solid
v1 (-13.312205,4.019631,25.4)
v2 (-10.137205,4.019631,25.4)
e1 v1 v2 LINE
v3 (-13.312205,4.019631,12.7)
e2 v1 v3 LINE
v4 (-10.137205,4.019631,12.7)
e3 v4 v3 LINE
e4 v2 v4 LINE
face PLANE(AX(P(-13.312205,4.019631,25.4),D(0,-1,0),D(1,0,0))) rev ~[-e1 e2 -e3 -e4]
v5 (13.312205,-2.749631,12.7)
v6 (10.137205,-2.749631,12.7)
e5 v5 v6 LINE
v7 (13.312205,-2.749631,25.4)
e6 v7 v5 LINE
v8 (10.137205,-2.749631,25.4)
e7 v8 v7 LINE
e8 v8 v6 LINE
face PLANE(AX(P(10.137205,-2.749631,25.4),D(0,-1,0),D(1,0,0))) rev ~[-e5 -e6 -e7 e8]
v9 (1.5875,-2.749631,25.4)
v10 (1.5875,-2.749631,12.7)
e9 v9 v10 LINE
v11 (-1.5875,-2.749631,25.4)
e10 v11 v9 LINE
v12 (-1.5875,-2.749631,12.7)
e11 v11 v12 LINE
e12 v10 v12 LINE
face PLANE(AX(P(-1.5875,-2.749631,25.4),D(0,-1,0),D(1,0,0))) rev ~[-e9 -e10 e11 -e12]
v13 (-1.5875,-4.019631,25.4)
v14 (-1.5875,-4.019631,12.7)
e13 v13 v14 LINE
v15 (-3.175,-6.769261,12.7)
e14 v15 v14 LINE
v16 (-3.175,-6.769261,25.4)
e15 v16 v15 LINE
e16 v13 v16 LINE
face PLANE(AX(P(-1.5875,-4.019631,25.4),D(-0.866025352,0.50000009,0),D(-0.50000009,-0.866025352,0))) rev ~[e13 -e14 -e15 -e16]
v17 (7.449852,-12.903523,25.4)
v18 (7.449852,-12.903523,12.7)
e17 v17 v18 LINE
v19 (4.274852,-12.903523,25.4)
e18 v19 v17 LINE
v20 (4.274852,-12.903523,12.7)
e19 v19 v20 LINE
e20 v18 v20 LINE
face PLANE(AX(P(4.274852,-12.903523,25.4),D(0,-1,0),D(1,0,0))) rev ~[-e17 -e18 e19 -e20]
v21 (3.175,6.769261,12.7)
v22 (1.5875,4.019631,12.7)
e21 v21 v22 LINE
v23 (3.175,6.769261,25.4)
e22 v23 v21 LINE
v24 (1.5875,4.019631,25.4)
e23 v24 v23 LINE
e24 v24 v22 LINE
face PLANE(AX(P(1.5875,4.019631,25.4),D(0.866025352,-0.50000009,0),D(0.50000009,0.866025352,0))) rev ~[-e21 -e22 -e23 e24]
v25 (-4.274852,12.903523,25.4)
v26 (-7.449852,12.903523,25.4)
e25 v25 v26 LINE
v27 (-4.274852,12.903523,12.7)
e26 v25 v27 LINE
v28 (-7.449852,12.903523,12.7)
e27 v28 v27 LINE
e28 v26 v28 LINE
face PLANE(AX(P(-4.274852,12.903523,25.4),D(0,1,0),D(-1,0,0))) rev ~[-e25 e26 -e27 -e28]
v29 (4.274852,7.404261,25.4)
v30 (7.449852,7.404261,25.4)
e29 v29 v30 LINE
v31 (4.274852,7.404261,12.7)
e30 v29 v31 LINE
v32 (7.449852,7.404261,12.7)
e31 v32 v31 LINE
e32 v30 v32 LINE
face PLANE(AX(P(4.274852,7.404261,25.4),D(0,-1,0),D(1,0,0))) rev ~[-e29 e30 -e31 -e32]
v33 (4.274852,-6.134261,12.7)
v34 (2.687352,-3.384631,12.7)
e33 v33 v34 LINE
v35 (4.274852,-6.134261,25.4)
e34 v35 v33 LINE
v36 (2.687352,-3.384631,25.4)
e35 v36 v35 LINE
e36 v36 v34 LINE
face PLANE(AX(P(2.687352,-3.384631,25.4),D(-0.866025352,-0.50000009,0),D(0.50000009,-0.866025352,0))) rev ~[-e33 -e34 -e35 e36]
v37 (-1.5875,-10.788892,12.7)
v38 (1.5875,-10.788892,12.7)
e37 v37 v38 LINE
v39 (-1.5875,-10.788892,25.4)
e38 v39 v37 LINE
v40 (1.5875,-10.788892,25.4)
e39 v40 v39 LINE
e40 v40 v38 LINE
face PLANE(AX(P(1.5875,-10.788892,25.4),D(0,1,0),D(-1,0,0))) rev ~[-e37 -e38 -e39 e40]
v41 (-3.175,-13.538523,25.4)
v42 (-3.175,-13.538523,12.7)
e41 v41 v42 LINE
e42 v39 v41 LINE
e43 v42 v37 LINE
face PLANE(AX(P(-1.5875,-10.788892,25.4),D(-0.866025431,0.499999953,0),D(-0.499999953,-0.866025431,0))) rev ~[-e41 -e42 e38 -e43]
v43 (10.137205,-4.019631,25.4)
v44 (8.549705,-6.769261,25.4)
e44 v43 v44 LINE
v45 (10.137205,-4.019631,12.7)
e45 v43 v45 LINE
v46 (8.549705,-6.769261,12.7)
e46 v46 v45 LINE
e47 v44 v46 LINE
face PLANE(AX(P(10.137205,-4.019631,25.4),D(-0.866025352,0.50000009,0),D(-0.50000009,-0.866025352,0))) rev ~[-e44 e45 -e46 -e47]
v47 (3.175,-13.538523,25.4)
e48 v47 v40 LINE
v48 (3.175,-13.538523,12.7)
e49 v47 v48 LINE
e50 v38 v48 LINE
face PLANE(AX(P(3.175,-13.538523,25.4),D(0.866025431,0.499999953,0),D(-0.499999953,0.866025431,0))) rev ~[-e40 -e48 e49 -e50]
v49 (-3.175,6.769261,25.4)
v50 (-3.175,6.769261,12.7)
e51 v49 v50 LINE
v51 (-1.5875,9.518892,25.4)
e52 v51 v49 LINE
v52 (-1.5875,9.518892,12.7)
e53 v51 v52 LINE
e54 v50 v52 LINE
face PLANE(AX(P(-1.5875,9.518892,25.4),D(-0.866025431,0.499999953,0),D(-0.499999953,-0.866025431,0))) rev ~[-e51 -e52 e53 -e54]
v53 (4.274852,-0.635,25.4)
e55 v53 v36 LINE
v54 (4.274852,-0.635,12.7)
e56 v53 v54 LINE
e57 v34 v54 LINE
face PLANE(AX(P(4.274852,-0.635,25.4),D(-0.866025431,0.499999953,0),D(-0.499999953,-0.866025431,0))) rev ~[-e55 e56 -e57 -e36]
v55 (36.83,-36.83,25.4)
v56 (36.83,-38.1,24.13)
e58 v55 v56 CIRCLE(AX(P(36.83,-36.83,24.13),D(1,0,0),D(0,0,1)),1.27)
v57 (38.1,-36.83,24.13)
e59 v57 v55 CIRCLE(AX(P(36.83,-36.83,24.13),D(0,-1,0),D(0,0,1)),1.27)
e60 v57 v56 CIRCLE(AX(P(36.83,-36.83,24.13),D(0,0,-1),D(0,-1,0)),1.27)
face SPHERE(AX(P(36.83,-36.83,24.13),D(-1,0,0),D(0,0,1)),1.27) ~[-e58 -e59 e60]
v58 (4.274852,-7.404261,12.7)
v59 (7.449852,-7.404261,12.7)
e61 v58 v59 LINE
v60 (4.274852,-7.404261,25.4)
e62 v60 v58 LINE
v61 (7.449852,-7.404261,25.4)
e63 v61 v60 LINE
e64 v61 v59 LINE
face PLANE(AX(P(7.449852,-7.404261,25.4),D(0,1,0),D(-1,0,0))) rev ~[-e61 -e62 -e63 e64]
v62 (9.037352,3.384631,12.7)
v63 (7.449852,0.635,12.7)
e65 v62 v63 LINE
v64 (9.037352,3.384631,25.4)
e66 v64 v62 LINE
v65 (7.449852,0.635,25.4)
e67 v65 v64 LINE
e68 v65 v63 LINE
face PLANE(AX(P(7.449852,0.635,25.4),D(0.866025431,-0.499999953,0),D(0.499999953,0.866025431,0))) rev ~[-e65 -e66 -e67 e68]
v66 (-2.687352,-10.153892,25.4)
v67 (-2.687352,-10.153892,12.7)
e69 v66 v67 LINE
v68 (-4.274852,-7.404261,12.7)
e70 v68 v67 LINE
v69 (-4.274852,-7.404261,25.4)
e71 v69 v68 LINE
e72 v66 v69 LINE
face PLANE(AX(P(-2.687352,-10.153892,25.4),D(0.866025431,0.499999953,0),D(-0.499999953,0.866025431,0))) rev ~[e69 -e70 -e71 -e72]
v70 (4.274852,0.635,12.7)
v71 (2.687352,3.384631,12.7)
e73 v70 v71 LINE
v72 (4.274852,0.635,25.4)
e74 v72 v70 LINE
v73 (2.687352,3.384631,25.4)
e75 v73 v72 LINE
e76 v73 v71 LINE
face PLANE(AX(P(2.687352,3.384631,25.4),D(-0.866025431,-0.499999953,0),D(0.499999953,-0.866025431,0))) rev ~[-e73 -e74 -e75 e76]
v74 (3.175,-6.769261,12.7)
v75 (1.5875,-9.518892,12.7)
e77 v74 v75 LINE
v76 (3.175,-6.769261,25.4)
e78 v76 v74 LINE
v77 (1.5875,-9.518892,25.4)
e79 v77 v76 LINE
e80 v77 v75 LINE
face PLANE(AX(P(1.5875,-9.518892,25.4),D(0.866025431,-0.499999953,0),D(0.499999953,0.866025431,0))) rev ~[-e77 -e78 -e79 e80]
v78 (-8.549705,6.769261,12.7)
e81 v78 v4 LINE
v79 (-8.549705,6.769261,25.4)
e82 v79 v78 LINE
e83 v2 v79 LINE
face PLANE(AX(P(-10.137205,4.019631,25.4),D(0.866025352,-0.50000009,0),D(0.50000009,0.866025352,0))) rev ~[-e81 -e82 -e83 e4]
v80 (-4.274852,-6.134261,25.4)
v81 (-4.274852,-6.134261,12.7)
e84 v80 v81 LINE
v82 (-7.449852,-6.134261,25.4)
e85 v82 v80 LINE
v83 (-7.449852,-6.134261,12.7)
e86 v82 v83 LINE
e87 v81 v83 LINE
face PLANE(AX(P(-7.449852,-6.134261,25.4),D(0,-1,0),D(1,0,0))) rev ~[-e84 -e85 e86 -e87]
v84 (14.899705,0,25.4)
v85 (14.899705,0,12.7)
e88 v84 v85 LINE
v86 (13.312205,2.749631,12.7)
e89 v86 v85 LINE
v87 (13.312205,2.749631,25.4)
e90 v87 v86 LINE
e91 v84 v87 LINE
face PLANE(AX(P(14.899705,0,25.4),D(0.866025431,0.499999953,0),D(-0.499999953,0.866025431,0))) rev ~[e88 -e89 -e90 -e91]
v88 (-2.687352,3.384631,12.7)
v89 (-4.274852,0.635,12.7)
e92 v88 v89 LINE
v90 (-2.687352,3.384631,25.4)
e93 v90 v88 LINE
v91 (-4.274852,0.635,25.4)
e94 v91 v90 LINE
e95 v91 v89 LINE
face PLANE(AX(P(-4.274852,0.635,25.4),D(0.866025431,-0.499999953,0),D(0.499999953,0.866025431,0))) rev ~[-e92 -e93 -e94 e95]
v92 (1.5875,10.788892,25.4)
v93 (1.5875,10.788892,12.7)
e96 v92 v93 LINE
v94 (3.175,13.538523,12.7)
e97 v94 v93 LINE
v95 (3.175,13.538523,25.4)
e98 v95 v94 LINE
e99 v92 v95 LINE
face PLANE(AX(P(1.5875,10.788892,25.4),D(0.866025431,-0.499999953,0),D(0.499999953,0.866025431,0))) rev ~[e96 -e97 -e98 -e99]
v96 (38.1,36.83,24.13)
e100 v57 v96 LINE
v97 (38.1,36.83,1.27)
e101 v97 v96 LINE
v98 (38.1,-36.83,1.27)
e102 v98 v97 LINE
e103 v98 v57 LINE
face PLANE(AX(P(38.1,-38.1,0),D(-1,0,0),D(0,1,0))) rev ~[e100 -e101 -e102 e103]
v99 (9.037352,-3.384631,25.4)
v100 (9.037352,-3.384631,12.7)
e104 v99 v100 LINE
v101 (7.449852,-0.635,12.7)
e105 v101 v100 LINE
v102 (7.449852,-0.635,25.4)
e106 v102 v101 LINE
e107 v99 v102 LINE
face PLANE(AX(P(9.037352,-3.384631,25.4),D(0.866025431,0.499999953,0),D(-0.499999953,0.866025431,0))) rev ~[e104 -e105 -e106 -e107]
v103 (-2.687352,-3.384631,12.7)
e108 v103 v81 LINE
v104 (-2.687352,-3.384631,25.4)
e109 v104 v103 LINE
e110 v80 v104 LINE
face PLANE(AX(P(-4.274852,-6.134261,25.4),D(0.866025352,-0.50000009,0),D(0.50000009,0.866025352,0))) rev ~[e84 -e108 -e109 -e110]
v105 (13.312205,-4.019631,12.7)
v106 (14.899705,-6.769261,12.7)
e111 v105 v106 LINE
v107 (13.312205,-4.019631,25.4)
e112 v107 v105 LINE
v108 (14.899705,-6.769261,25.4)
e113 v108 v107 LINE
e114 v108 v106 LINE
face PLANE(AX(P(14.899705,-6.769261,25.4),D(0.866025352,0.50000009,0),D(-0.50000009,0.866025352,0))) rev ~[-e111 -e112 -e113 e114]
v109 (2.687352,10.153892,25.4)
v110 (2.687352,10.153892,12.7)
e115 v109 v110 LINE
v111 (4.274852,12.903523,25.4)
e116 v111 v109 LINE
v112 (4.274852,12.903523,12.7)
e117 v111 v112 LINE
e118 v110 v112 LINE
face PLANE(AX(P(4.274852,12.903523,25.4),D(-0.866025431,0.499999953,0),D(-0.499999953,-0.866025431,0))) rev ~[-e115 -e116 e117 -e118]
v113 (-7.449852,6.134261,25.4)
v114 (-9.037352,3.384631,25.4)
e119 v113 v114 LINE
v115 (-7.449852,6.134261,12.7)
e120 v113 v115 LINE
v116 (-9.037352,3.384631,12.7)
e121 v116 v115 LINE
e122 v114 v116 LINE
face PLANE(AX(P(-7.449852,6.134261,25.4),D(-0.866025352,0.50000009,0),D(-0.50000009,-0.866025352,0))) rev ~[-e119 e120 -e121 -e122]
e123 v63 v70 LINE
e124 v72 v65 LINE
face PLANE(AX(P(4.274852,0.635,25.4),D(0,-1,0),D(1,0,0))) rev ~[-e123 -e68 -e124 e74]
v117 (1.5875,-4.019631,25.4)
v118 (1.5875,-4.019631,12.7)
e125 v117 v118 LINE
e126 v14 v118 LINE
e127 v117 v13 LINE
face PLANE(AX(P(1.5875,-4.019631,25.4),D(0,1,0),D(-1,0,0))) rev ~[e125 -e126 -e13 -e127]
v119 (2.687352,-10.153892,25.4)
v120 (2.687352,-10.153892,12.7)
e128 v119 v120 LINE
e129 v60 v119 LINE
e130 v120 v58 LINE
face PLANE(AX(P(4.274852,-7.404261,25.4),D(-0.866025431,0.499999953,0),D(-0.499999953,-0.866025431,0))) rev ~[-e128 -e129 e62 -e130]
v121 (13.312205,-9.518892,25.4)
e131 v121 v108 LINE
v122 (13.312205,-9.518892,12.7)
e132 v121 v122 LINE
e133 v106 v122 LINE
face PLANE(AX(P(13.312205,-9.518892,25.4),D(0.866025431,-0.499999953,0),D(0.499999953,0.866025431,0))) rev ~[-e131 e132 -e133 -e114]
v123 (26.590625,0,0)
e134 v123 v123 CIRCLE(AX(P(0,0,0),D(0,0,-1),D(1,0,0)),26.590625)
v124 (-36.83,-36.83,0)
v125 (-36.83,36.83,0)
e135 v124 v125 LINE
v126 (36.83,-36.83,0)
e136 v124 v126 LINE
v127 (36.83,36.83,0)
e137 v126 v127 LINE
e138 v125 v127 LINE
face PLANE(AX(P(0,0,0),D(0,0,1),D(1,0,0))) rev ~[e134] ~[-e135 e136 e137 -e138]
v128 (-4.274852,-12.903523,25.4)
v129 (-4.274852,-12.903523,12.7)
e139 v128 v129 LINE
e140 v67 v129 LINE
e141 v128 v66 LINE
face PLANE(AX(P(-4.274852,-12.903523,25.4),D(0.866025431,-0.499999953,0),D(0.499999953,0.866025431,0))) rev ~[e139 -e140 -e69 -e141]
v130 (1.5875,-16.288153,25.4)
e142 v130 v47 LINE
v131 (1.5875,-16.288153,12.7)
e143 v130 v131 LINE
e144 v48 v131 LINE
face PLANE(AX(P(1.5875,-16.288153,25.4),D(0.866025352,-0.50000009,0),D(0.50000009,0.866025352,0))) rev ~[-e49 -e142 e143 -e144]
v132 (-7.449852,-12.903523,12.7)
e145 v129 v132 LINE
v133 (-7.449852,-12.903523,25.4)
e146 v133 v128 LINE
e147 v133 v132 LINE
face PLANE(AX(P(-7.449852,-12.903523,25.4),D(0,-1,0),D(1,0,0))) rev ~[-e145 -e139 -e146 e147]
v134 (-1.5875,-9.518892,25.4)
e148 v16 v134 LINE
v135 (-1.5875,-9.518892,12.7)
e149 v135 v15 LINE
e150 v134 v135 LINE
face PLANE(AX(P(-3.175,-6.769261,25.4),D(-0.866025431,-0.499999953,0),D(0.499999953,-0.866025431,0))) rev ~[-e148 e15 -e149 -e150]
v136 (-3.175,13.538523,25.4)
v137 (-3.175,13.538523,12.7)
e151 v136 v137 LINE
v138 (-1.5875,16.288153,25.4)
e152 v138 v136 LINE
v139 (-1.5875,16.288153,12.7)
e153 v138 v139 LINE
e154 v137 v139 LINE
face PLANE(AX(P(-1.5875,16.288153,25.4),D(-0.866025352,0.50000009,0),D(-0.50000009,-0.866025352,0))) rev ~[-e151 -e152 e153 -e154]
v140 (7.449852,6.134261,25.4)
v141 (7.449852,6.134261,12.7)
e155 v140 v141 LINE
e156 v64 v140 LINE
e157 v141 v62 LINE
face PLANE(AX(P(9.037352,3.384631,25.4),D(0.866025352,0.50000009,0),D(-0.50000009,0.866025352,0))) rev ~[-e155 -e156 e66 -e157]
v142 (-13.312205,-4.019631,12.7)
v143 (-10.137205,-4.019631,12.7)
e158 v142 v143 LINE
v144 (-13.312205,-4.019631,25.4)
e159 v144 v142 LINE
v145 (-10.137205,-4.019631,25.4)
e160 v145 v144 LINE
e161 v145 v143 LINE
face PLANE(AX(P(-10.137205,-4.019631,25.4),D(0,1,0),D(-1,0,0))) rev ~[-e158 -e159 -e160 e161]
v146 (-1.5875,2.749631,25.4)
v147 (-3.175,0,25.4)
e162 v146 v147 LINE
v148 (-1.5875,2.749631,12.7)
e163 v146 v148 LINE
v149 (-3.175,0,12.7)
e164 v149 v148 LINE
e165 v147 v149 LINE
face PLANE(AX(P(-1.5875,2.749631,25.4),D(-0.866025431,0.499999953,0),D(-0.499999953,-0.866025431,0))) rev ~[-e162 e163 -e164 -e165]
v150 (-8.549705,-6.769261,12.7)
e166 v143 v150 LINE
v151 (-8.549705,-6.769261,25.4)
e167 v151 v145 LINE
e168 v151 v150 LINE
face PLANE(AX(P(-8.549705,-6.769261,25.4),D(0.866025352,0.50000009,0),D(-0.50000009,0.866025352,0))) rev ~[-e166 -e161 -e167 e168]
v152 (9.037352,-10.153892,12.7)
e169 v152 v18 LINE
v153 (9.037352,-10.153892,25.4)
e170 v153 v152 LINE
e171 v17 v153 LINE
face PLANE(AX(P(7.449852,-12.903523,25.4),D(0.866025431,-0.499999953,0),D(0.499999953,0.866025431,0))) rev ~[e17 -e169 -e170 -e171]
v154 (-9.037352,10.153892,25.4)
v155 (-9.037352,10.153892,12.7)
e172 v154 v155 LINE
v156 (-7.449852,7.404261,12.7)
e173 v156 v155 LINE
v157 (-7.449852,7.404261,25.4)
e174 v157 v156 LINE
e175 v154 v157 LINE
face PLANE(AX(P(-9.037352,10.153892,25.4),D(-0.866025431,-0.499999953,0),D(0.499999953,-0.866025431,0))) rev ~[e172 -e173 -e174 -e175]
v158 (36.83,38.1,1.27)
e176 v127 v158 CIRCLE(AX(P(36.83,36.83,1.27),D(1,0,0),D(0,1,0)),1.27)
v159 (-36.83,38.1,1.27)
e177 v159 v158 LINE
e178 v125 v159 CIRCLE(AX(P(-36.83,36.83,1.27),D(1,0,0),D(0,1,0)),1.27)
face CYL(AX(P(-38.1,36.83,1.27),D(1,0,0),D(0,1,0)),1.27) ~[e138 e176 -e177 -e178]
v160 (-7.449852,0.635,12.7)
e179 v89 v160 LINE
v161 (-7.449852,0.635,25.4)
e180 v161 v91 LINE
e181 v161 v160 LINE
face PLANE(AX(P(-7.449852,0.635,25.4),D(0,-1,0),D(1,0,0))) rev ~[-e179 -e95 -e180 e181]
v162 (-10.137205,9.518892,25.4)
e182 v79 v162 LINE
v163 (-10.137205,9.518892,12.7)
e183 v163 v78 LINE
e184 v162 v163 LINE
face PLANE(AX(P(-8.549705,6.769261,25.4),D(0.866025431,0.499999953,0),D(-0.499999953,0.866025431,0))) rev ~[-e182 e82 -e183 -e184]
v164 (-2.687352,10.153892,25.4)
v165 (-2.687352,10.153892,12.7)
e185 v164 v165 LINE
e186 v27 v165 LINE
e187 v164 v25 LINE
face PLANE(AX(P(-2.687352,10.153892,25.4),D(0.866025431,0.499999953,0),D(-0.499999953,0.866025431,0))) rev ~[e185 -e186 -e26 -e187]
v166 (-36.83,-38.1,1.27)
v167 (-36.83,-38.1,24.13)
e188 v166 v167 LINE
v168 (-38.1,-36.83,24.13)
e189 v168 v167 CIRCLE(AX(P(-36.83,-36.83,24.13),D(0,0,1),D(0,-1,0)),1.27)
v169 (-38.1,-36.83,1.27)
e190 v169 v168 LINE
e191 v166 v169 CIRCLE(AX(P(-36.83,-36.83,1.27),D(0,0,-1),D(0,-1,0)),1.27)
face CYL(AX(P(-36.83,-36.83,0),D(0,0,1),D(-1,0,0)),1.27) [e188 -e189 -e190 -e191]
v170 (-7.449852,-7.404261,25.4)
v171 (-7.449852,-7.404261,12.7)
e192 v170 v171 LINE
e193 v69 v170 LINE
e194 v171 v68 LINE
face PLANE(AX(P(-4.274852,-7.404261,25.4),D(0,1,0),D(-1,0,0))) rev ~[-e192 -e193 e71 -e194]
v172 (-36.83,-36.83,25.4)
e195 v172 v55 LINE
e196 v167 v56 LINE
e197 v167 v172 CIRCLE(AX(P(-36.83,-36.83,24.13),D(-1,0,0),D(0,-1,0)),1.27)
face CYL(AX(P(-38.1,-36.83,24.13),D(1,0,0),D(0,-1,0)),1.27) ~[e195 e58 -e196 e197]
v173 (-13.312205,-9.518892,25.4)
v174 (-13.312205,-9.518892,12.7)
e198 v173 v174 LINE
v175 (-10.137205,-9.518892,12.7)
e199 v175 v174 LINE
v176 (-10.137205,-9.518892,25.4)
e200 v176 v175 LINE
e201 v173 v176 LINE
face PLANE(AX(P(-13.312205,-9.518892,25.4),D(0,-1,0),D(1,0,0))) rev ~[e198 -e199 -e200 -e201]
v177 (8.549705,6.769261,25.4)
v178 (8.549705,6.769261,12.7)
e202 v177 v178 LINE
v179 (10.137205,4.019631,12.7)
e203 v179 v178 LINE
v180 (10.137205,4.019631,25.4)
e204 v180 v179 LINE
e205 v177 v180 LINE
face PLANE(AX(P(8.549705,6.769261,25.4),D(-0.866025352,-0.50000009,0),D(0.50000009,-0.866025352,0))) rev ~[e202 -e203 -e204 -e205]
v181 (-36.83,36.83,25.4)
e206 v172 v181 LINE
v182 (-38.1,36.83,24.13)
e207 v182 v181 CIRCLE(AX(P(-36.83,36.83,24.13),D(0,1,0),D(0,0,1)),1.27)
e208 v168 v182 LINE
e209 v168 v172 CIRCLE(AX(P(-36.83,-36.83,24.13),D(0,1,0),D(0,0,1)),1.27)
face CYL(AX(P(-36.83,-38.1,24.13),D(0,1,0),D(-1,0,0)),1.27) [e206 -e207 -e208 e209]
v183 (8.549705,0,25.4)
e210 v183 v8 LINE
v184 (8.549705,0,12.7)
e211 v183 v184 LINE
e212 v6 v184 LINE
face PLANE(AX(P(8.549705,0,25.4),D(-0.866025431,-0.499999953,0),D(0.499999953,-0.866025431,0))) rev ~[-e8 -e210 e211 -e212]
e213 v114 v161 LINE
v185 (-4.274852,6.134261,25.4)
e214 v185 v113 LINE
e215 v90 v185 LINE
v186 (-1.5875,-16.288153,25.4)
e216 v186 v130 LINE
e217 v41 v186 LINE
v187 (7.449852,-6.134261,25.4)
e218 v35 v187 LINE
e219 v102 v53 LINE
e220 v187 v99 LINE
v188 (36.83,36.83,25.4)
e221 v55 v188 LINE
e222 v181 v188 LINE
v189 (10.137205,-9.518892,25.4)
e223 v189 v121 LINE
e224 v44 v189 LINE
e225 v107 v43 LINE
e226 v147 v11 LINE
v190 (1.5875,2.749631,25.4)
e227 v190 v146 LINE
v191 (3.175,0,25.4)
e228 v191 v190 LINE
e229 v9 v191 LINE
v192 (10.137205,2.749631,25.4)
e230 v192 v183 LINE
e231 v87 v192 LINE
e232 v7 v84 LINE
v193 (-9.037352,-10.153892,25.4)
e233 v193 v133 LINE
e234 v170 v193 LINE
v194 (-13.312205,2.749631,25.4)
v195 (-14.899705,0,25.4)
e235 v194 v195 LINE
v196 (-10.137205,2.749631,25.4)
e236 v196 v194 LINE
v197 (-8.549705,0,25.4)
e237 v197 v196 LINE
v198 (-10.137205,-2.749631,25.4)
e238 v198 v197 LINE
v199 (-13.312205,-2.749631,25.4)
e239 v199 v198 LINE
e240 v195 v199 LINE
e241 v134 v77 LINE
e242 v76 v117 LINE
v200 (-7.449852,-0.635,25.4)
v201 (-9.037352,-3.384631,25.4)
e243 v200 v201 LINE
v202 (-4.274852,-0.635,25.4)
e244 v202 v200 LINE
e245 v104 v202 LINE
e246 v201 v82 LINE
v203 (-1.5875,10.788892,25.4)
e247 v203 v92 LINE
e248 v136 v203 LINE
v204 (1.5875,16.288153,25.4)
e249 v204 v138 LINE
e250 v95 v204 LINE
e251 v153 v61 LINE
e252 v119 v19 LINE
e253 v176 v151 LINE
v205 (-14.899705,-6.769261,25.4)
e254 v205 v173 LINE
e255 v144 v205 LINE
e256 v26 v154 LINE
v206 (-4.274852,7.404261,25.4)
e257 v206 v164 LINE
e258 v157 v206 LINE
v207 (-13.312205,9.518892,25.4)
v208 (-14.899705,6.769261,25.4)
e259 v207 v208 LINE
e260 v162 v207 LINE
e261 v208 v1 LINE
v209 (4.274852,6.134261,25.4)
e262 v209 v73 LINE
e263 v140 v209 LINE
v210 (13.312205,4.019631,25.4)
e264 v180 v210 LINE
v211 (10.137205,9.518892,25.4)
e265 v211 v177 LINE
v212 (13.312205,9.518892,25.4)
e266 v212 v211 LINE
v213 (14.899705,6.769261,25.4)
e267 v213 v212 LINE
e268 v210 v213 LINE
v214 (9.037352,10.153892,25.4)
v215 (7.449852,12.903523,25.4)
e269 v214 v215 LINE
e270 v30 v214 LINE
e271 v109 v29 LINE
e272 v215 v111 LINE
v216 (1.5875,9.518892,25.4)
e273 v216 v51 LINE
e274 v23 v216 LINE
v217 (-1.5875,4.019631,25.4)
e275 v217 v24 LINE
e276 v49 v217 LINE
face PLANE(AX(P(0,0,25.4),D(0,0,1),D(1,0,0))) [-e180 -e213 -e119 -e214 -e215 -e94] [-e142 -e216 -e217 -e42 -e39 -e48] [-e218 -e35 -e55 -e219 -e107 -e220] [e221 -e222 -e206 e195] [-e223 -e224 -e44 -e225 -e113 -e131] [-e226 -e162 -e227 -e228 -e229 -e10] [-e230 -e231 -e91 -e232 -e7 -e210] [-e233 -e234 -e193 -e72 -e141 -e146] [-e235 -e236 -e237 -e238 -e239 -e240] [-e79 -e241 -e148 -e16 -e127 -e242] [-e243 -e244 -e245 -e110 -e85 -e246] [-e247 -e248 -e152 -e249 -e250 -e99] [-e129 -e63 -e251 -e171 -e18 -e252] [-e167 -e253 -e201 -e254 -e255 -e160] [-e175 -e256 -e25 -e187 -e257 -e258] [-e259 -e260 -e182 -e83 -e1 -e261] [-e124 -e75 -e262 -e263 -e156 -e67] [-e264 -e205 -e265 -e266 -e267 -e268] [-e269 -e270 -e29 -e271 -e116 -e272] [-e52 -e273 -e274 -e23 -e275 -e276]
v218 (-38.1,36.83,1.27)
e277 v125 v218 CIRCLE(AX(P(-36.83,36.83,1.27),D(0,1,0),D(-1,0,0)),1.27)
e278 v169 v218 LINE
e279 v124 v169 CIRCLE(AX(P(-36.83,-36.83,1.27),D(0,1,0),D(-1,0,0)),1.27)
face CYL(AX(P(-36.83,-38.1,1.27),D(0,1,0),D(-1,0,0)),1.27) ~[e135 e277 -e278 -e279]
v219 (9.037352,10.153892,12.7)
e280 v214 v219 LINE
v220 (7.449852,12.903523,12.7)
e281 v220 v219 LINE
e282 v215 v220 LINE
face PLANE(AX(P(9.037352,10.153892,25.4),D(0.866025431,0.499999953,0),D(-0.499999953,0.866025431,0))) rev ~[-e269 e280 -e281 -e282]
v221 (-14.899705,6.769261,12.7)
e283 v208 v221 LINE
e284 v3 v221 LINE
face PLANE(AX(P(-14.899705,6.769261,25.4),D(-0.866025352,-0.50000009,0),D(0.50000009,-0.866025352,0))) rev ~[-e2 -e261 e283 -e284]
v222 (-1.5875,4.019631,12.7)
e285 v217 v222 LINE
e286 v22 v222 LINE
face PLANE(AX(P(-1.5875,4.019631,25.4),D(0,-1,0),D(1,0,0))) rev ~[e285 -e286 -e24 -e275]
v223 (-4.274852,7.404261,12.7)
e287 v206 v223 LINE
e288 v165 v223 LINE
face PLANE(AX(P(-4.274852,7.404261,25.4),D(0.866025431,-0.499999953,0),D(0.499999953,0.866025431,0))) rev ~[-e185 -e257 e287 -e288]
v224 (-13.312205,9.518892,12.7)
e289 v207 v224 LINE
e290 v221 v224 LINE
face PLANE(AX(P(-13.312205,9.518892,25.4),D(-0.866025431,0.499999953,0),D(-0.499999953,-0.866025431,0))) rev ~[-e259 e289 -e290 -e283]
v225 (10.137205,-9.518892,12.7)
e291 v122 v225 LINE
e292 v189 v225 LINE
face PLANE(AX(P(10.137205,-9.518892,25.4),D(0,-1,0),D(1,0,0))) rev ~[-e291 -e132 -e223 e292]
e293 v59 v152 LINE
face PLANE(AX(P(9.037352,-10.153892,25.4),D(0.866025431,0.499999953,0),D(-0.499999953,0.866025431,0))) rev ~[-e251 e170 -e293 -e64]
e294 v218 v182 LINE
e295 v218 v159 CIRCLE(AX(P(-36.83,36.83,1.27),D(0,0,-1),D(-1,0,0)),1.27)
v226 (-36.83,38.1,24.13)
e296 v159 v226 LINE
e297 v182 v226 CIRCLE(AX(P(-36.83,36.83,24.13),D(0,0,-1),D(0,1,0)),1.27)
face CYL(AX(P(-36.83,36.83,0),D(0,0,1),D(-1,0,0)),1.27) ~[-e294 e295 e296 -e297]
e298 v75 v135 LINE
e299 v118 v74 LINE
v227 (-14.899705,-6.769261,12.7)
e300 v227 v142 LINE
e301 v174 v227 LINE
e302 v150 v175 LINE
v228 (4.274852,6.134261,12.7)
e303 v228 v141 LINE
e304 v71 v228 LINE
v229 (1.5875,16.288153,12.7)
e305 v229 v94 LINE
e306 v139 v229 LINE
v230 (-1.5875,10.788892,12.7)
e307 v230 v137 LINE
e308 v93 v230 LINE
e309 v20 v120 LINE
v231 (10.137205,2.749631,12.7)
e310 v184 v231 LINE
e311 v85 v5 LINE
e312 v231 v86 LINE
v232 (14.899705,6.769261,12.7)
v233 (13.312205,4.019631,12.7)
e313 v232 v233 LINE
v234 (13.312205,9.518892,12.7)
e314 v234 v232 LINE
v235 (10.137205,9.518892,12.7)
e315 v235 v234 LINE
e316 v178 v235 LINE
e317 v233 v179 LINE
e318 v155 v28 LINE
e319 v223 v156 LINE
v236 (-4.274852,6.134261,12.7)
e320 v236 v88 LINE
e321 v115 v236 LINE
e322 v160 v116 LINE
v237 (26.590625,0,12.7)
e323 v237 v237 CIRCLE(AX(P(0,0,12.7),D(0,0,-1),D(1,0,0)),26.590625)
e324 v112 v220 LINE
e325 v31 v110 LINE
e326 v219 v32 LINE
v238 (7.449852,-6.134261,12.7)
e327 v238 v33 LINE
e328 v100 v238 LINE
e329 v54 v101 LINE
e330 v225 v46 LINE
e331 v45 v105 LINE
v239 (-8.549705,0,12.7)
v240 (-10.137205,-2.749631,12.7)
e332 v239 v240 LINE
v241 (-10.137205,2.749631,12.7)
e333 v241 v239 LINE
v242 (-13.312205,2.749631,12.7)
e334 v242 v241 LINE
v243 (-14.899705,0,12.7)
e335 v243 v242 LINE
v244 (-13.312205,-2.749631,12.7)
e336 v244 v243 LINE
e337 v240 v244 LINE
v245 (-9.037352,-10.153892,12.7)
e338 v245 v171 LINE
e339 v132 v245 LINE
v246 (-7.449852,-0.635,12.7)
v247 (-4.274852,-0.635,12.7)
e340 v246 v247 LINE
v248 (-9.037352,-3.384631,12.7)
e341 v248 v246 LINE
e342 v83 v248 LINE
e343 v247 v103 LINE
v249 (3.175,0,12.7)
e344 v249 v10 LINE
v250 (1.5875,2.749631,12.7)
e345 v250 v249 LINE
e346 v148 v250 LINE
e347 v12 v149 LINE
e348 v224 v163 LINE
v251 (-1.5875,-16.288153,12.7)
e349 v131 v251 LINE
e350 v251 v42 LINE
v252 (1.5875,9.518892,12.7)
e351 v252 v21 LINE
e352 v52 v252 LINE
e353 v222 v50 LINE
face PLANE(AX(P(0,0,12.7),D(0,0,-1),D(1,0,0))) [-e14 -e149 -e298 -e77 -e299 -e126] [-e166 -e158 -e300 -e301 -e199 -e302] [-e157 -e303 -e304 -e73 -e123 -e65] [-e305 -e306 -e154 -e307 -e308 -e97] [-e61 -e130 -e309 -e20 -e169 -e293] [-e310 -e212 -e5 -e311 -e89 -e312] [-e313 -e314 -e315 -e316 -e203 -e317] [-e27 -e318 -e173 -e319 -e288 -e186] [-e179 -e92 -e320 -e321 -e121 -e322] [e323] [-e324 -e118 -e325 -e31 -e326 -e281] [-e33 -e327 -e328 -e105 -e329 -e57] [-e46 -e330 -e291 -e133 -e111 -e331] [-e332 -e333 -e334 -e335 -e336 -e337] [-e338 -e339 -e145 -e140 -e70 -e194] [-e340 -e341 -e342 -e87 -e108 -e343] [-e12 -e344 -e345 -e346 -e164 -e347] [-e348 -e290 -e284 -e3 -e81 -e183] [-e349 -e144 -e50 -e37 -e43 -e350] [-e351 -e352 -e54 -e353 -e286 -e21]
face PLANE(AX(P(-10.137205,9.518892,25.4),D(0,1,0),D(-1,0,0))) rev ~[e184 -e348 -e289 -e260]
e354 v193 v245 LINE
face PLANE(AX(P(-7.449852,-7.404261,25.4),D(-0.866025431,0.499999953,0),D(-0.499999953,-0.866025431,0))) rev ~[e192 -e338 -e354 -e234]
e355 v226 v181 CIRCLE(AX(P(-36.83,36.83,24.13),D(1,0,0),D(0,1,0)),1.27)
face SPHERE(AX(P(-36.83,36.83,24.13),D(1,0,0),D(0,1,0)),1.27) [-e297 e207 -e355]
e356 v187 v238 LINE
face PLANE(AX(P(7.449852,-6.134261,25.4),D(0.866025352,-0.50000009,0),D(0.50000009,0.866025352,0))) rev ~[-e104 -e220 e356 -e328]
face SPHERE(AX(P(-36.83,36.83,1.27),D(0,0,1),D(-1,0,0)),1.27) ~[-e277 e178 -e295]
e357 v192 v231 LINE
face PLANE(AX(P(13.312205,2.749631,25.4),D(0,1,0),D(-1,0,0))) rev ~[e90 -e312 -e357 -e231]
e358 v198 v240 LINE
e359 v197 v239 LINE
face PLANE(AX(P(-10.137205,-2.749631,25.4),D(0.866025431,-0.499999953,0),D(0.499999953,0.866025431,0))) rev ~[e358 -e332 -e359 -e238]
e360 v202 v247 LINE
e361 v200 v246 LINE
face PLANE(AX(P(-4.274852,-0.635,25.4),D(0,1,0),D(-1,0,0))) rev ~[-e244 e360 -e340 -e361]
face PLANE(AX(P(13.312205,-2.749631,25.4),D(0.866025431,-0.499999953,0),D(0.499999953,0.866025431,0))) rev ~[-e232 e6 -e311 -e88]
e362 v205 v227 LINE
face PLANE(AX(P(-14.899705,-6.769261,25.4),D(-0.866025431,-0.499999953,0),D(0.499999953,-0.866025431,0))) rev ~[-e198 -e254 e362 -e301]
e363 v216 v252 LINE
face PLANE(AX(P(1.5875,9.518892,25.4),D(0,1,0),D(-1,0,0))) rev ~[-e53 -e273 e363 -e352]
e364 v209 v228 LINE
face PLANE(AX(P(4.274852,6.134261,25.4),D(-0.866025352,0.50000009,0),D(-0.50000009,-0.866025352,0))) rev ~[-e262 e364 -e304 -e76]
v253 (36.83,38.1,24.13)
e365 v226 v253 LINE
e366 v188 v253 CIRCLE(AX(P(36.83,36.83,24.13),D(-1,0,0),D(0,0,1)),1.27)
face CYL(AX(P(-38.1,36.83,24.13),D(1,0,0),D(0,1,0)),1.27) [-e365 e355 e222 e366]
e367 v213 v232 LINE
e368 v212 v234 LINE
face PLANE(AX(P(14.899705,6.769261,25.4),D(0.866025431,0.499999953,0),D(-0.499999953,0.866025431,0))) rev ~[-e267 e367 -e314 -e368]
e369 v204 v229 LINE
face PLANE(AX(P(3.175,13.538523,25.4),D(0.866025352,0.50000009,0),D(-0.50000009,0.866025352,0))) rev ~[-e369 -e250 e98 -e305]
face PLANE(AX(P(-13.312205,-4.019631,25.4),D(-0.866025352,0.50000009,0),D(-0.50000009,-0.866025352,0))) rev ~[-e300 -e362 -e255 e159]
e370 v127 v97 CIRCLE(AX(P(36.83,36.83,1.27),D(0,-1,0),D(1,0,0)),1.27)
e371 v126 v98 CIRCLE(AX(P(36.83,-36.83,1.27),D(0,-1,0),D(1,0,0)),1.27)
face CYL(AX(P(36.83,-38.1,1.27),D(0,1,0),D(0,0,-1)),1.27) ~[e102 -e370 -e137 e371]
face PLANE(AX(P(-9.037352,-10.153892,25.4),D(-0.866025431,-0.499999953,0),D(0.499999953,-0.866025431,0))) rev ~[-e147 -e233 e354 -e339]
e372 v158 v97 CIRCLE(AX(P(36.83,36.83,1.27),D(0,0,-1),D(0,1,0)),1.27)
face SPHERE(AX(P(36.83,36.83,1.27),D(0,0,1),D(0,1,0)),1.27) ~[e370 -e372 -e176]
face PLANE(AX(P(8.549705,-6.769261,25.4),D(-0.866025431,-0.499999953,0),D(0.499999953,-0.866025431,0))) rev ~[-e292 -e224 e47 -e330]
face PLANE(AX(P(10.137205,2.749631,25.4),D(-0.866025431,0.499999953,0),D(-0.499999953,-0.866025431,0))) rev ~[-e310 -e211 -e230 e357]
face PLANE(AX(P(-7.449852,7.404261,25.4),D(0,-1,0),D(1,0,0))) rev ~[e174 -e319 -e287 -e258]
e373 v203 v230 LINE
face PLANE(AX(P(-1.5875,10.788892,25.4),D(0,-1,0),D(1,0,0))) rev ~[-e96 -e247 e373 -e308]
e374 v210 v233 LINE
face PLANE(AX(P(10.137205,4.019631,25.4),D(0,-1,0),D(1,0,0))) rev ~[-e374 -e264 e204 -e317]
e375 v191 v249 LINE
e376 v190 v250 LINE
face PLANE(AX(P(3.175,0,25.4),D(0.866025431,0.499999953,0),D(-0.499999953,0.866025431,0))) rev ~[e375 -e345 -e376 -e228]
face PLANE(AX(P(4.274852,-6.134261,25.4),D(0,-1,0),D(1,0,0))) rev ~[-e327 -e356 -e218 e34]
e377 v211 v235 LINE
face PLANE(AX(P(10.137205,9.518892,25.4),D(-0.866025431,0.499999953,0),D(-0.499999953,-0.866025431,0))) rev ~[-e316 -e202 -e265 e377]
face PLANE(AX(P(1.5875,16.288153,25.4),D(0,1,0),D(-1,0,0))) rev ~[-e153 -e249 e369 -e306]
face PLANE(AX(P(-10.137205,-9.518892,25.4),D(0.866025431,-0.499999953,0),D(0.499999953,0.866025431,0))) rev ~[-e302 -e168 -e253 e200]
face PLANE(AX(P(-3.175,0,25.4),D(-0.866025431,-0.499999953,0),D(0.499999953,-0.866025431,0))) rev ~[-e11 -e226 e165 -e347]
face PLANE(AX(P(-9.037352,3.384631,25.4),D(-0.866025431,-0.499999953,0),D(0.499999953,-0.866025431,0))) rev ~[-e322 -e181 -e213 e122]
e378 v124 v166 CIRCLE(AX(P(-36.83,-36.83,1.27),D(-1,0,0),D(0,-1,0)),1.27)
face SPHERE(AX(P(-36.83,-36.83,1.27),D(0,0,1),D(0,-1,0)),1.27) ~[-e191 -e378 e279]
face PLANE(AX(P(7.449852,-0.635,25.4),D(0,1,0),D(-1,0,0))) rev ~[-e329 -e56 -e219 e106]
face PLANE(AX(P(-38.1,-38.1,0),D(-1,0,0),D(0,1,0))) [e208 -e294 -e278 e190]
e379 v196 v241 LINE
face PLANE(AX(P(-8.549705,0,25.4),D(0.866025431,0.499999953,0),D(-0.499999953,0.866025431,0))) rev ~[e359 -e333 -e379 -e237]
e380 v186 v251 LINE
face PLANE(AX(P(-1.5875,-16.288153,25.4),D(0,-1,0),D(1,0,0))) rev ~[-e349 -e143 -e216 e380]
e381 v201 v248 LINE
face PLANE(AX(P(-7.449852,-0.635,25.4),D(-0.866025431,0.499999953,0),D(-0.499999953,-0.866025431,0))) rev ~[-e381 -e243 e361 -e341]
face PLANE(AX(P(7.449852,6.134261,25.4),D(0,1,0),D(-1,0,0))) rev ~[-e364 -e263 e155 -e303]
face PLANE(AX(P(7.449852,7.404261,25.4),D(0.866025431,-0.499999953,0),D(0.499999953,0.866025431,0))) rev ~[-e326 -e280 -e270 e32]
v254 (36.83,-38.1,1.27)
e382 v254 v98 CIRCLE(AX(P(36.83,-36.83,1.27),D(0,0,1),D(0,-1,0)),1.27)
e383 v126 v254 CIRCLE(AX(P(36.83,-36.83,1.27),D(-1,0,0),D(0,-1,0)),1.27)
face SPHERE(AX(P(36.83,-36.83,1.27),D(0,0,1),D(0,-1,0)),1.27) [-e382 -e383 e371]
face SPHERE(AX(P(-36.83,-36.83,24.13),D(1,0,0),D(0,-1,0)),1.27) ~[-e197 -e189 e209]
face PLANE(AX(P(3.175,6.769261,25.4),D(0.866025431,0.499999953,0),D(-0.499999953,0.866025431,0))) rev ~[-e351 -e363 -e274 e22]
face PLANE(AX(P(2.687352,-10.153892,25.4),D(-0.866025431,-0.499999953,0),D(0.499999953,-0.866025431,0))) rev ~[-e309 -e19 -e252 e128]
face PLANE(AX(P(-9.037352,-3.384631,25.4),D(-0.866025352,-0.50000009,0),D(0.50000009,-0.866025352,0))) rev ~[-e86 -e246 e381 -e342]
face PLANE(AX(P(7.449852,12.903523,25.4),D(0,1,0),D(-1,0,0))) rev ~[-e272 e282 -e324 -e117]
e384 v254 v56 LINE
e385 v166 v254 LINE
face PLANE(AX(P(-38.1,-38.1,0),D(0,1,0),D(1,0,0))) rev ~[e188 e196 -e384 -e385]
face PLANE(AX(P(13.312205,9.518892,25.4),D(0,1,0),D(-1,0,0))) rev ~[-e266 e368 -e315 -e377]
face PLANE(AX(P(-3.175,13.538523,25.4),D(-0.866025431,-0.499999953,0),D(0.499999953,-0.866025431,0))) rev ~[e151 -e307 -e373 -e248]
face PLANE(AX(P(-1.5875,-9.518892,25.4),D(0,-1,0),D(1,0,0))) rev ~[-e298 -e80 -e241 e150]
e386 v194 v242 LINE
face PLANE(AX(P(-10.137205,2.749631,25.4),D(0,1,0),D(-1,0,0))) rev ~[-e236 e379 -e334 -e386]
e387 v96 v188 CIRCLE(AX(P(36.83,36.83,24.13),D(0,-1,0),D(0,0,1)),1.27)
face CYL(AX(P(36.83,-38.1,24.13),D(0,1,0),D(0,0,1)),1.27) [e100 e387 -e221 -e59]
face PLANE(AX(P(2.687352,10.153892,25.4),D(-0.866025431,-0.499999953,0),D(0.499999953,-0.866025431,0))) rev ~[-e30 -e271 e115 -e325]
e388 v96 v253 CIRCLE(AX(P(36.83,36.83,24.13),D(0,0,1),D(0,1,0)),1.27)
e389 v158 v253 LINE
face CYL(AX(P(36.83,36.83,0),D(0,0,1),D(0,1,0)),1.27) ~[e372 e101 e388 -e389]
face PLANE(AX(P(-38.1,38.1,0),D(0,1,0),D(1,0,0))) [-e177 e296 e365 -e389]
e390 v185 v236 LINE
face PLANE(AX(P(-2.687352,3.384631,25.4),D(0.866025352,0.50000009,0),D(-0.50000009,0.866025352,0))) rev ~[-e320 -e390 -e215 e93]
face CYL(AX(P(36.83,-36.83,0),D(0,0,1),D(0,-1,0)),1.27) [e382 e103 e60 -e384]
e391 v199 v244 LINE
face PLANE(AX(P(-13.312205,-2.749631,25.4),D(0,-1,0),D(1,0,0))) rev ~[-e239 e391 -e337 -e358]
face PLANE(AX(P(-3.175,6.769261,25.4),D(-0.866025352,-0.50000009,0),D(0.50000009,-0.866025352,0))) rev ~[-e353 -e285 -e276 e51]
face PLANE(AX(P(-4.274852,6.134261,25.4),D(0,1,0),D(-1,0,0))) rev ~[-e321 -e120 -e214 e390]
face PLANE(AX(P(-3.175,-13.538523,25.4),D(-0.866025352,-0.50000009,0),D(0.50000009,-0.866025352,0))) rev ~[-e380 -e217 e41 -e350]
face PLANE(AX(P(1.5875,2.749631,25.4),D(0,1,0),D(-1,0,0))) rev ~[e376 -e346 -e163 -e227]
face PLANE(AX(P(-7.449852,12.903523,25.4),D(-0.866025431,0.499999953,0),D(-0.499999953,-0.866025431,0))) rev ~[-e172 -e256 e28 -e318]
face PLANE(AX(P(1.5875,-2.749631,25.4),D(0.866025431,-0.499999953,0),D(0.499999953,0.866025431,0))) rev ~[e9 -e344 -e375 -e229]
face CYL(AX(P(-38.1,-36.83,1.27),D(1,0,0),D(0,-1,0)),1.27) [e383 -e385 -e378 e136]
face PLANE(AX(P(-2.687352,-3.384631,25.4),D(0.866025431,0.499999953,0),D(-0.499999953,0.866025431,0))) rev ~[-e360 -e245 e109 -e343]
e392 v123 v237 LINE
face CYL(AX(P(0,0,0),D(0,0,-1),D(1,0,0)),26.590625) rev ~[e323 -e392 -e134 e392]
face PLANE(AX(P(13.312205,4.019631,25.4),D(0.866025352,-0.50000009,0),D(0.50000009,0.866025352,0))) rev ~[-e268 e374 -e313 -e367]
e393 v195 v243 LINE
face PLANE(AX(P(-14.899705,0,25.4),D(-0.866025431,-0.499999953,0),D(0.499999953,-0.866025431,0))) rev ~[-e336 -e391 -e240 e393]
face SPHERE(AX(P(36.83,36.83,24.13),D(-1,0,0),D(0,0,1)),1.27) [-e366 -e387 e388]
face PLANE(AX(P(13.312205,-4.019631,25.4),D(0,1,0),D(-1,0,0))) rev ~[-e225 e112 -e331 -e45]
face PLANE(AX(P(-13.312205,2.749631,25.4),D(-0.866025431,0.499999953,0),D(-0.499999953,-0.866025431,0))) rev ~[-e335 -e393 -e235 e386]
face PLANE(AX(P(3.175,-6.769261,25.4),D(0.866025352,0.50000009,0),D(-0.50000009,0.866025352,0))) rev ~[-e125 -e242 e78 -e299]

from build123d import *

# Parameters (mm, degrees)
F0_W     = 76.2
F0_H     = 76.2
F1_DEPTH = 25.4
F2_R     = 26.590625
F3_DEPTH = 12.7
F4_R     = 1.27
F6_DEPTH = 25.4


with BuildPart() as f1:
    # F0 (on Top) → F1 (new body)
    with BuildSketch(Plane.XY):
        Rectangle(F0_W, F0_H)
    extrude(amount=F1_DEPTH)

    # F2 (on face) → F3 (cut)
    with BuildSketch(Plane(origin=(0, 0, 0), x_dir=(1, 0, 0), z_dir=(0, 0, -1))):
        Circle(F2_R)
    extrude(amount=-F3_DEPTH, mode=Mode.SUBTRACT)

    # F4
    f4_edges = [f1.edges().sort_by_distance(p)[0] for p in [
        (0, -38.1, 25.4),
        (0, 38.1, 25.4),
        (38.1, 0, 25.4),
        (38.1, -38.1, 12.7),
        (38.1, 38.1, 12.7),
        (-38.1, 38.1, 12.7),
        (-38.1, -38.1, 12.7),
        (-38.1, 0, 25.4),
        (0, -38.1, 0),
        (-38.1, 0, 0),
        (0, 38.1, 0),
        (38.1, 0, 0),
    ]]
    fillet(f4_edges, radius=F4_R)

    # F5 (on face) → F6 (cut)
    with BuildSketch(Plane.XY.offset(25.4)):
        Polygon((1.5875, -2.749631), (3.175, 0), (1.5875, 2.749631), (-1.5875, 2.749631), (-3.175, 0), (-1.5875, -2.749631), align=None)
        Polygon((-3.175, 6.769261), (-1.5875, 4.019631), (1.5875, 4.019631), (3.175, 6.769261), (1.5875, 9.518892), (-1.5875, 9.518892), align=None)
        Polygon((-9.037352, 3.384631), (-7.449852, 0.635), (-4.274852, 0.635), (-2.687352, 3.384631), (-4.274852, 6.134261), (-7.449852, 6.134261), align=None)
        Polygon((-7.449852, -6.134261), (-4.274852, -6.134261), (-2.687352, -3.384631), (-4.274852, -0.635), (-7.449852, -0.635), (-9.037352, -3.384631), align=None)
        Polygon((1.5875, -9.518892), (3.175, -6.769261), (1.5875, -4.019631), (-1.5875, -4.019631), (-3.175, -6.769261), (-1.5875, -9.518892), align=None)
        Polygon((9.037352, -3.384631), (7.449852, -0.635), (4.274852, -0.635), (2.687352, -3.384631), (4.274852, -6.134261), (7.449852, -6.134261), align=None)
        Polygon((7.449852, 6.134261), (4.274852, 6.134261), (2.687352, 3.384631), (4.274852, 0.635), (7.449852, 0.635), (9.037352, 3.384631), align=None)
        Polygon((4.274852, 7.404261), (7.449852, 7.404261), (9.037352, 10.153892), (7.449852, 12.903523), (4.274852, 12.903523), (2.687352, 10.153892), align=None)
        Polygon((-7.449852, 12.903523), (-9.037352, 10.153892), (-7.449852, 7.404261), (-4.274852, 7.404261), (-2.687352, 10.153892), (-4.274852, 12.903523), align=None)
        Polygon((-14.899705, 0), (-13.312205, -2.749631), (-10.137205, -2.749631), (-8.549705, 0), (-10.137205, 2.749631), (-13.312205, 2.749631), align=None)
        Polygon((-7.449852, -12.903523), (-4.274852, -12.903523), (-2.687352, -10.153892), (-4.274852, -7.404261), (-7.449852, -7.404261), (-9.037352, -10.153892), align=None)
        Polygon((7.449852, -12.903523), (9.037352, -10.153892), (7.449852, -7.404261), (4.274852, -7.404261), (2.687352, -10.153892), (4.274852, -12.903523), align=None)
        Polygon((14.899705, 0), (13.312205, 2.749631), (10.137205, 2.749631), (8.549705, 0), (10.137205, -2.749631), (13.312205, -2.749631), align=None)
        Polygon((-1.5875, 10.788892), (1.5875, 10.788892), (3.175, 13.538523), (1.5875, 16.288153), (-1.5875, 16.288153), (-3.175, 13.538523), align=None)
        Polygon((-13.312205, 9.518892), (-14.899705, 6.769261), (-13.312205, 4.019631), (-10.137205, 4.019631), (-8.549705, 6.769261), (-10.137205, 9.518892), align=None)
        Polygon((-14.899705, -6.769261), (-13.312205, -9.518892), (-10.137205, -9.518892), (-8.549705, -6.769261), (-10.137205, -4.019631), (-13.312205, -4.019631), align=None)
        Polygon((-1.5875, -16.288153), (1.5875, -16.288153), (3.175, -13.538523), (1.5875, -10.788892), (-1.5875, -10.788892), (-3.175, -13.538523), align=None)
        Polygon((13.312205, -9.518892), (14.899705, -6.769261), (13.312205, -4.019631), (10.137205, -4.019631), (8.549705, -6.769261), (10.137205, -9.518892), align=None)
        Polygon((14.899705, 6.769261), (13.312205, 9.518892), (10.137205, 9.518892), (8.549705, 6.769261), (10.137205, 4.019631), (13.312205, 4.019631), align=None)
    extrude(amount=-F6_DEPTH, mode=Mode.SUBTRACT)


solid = f1.part
